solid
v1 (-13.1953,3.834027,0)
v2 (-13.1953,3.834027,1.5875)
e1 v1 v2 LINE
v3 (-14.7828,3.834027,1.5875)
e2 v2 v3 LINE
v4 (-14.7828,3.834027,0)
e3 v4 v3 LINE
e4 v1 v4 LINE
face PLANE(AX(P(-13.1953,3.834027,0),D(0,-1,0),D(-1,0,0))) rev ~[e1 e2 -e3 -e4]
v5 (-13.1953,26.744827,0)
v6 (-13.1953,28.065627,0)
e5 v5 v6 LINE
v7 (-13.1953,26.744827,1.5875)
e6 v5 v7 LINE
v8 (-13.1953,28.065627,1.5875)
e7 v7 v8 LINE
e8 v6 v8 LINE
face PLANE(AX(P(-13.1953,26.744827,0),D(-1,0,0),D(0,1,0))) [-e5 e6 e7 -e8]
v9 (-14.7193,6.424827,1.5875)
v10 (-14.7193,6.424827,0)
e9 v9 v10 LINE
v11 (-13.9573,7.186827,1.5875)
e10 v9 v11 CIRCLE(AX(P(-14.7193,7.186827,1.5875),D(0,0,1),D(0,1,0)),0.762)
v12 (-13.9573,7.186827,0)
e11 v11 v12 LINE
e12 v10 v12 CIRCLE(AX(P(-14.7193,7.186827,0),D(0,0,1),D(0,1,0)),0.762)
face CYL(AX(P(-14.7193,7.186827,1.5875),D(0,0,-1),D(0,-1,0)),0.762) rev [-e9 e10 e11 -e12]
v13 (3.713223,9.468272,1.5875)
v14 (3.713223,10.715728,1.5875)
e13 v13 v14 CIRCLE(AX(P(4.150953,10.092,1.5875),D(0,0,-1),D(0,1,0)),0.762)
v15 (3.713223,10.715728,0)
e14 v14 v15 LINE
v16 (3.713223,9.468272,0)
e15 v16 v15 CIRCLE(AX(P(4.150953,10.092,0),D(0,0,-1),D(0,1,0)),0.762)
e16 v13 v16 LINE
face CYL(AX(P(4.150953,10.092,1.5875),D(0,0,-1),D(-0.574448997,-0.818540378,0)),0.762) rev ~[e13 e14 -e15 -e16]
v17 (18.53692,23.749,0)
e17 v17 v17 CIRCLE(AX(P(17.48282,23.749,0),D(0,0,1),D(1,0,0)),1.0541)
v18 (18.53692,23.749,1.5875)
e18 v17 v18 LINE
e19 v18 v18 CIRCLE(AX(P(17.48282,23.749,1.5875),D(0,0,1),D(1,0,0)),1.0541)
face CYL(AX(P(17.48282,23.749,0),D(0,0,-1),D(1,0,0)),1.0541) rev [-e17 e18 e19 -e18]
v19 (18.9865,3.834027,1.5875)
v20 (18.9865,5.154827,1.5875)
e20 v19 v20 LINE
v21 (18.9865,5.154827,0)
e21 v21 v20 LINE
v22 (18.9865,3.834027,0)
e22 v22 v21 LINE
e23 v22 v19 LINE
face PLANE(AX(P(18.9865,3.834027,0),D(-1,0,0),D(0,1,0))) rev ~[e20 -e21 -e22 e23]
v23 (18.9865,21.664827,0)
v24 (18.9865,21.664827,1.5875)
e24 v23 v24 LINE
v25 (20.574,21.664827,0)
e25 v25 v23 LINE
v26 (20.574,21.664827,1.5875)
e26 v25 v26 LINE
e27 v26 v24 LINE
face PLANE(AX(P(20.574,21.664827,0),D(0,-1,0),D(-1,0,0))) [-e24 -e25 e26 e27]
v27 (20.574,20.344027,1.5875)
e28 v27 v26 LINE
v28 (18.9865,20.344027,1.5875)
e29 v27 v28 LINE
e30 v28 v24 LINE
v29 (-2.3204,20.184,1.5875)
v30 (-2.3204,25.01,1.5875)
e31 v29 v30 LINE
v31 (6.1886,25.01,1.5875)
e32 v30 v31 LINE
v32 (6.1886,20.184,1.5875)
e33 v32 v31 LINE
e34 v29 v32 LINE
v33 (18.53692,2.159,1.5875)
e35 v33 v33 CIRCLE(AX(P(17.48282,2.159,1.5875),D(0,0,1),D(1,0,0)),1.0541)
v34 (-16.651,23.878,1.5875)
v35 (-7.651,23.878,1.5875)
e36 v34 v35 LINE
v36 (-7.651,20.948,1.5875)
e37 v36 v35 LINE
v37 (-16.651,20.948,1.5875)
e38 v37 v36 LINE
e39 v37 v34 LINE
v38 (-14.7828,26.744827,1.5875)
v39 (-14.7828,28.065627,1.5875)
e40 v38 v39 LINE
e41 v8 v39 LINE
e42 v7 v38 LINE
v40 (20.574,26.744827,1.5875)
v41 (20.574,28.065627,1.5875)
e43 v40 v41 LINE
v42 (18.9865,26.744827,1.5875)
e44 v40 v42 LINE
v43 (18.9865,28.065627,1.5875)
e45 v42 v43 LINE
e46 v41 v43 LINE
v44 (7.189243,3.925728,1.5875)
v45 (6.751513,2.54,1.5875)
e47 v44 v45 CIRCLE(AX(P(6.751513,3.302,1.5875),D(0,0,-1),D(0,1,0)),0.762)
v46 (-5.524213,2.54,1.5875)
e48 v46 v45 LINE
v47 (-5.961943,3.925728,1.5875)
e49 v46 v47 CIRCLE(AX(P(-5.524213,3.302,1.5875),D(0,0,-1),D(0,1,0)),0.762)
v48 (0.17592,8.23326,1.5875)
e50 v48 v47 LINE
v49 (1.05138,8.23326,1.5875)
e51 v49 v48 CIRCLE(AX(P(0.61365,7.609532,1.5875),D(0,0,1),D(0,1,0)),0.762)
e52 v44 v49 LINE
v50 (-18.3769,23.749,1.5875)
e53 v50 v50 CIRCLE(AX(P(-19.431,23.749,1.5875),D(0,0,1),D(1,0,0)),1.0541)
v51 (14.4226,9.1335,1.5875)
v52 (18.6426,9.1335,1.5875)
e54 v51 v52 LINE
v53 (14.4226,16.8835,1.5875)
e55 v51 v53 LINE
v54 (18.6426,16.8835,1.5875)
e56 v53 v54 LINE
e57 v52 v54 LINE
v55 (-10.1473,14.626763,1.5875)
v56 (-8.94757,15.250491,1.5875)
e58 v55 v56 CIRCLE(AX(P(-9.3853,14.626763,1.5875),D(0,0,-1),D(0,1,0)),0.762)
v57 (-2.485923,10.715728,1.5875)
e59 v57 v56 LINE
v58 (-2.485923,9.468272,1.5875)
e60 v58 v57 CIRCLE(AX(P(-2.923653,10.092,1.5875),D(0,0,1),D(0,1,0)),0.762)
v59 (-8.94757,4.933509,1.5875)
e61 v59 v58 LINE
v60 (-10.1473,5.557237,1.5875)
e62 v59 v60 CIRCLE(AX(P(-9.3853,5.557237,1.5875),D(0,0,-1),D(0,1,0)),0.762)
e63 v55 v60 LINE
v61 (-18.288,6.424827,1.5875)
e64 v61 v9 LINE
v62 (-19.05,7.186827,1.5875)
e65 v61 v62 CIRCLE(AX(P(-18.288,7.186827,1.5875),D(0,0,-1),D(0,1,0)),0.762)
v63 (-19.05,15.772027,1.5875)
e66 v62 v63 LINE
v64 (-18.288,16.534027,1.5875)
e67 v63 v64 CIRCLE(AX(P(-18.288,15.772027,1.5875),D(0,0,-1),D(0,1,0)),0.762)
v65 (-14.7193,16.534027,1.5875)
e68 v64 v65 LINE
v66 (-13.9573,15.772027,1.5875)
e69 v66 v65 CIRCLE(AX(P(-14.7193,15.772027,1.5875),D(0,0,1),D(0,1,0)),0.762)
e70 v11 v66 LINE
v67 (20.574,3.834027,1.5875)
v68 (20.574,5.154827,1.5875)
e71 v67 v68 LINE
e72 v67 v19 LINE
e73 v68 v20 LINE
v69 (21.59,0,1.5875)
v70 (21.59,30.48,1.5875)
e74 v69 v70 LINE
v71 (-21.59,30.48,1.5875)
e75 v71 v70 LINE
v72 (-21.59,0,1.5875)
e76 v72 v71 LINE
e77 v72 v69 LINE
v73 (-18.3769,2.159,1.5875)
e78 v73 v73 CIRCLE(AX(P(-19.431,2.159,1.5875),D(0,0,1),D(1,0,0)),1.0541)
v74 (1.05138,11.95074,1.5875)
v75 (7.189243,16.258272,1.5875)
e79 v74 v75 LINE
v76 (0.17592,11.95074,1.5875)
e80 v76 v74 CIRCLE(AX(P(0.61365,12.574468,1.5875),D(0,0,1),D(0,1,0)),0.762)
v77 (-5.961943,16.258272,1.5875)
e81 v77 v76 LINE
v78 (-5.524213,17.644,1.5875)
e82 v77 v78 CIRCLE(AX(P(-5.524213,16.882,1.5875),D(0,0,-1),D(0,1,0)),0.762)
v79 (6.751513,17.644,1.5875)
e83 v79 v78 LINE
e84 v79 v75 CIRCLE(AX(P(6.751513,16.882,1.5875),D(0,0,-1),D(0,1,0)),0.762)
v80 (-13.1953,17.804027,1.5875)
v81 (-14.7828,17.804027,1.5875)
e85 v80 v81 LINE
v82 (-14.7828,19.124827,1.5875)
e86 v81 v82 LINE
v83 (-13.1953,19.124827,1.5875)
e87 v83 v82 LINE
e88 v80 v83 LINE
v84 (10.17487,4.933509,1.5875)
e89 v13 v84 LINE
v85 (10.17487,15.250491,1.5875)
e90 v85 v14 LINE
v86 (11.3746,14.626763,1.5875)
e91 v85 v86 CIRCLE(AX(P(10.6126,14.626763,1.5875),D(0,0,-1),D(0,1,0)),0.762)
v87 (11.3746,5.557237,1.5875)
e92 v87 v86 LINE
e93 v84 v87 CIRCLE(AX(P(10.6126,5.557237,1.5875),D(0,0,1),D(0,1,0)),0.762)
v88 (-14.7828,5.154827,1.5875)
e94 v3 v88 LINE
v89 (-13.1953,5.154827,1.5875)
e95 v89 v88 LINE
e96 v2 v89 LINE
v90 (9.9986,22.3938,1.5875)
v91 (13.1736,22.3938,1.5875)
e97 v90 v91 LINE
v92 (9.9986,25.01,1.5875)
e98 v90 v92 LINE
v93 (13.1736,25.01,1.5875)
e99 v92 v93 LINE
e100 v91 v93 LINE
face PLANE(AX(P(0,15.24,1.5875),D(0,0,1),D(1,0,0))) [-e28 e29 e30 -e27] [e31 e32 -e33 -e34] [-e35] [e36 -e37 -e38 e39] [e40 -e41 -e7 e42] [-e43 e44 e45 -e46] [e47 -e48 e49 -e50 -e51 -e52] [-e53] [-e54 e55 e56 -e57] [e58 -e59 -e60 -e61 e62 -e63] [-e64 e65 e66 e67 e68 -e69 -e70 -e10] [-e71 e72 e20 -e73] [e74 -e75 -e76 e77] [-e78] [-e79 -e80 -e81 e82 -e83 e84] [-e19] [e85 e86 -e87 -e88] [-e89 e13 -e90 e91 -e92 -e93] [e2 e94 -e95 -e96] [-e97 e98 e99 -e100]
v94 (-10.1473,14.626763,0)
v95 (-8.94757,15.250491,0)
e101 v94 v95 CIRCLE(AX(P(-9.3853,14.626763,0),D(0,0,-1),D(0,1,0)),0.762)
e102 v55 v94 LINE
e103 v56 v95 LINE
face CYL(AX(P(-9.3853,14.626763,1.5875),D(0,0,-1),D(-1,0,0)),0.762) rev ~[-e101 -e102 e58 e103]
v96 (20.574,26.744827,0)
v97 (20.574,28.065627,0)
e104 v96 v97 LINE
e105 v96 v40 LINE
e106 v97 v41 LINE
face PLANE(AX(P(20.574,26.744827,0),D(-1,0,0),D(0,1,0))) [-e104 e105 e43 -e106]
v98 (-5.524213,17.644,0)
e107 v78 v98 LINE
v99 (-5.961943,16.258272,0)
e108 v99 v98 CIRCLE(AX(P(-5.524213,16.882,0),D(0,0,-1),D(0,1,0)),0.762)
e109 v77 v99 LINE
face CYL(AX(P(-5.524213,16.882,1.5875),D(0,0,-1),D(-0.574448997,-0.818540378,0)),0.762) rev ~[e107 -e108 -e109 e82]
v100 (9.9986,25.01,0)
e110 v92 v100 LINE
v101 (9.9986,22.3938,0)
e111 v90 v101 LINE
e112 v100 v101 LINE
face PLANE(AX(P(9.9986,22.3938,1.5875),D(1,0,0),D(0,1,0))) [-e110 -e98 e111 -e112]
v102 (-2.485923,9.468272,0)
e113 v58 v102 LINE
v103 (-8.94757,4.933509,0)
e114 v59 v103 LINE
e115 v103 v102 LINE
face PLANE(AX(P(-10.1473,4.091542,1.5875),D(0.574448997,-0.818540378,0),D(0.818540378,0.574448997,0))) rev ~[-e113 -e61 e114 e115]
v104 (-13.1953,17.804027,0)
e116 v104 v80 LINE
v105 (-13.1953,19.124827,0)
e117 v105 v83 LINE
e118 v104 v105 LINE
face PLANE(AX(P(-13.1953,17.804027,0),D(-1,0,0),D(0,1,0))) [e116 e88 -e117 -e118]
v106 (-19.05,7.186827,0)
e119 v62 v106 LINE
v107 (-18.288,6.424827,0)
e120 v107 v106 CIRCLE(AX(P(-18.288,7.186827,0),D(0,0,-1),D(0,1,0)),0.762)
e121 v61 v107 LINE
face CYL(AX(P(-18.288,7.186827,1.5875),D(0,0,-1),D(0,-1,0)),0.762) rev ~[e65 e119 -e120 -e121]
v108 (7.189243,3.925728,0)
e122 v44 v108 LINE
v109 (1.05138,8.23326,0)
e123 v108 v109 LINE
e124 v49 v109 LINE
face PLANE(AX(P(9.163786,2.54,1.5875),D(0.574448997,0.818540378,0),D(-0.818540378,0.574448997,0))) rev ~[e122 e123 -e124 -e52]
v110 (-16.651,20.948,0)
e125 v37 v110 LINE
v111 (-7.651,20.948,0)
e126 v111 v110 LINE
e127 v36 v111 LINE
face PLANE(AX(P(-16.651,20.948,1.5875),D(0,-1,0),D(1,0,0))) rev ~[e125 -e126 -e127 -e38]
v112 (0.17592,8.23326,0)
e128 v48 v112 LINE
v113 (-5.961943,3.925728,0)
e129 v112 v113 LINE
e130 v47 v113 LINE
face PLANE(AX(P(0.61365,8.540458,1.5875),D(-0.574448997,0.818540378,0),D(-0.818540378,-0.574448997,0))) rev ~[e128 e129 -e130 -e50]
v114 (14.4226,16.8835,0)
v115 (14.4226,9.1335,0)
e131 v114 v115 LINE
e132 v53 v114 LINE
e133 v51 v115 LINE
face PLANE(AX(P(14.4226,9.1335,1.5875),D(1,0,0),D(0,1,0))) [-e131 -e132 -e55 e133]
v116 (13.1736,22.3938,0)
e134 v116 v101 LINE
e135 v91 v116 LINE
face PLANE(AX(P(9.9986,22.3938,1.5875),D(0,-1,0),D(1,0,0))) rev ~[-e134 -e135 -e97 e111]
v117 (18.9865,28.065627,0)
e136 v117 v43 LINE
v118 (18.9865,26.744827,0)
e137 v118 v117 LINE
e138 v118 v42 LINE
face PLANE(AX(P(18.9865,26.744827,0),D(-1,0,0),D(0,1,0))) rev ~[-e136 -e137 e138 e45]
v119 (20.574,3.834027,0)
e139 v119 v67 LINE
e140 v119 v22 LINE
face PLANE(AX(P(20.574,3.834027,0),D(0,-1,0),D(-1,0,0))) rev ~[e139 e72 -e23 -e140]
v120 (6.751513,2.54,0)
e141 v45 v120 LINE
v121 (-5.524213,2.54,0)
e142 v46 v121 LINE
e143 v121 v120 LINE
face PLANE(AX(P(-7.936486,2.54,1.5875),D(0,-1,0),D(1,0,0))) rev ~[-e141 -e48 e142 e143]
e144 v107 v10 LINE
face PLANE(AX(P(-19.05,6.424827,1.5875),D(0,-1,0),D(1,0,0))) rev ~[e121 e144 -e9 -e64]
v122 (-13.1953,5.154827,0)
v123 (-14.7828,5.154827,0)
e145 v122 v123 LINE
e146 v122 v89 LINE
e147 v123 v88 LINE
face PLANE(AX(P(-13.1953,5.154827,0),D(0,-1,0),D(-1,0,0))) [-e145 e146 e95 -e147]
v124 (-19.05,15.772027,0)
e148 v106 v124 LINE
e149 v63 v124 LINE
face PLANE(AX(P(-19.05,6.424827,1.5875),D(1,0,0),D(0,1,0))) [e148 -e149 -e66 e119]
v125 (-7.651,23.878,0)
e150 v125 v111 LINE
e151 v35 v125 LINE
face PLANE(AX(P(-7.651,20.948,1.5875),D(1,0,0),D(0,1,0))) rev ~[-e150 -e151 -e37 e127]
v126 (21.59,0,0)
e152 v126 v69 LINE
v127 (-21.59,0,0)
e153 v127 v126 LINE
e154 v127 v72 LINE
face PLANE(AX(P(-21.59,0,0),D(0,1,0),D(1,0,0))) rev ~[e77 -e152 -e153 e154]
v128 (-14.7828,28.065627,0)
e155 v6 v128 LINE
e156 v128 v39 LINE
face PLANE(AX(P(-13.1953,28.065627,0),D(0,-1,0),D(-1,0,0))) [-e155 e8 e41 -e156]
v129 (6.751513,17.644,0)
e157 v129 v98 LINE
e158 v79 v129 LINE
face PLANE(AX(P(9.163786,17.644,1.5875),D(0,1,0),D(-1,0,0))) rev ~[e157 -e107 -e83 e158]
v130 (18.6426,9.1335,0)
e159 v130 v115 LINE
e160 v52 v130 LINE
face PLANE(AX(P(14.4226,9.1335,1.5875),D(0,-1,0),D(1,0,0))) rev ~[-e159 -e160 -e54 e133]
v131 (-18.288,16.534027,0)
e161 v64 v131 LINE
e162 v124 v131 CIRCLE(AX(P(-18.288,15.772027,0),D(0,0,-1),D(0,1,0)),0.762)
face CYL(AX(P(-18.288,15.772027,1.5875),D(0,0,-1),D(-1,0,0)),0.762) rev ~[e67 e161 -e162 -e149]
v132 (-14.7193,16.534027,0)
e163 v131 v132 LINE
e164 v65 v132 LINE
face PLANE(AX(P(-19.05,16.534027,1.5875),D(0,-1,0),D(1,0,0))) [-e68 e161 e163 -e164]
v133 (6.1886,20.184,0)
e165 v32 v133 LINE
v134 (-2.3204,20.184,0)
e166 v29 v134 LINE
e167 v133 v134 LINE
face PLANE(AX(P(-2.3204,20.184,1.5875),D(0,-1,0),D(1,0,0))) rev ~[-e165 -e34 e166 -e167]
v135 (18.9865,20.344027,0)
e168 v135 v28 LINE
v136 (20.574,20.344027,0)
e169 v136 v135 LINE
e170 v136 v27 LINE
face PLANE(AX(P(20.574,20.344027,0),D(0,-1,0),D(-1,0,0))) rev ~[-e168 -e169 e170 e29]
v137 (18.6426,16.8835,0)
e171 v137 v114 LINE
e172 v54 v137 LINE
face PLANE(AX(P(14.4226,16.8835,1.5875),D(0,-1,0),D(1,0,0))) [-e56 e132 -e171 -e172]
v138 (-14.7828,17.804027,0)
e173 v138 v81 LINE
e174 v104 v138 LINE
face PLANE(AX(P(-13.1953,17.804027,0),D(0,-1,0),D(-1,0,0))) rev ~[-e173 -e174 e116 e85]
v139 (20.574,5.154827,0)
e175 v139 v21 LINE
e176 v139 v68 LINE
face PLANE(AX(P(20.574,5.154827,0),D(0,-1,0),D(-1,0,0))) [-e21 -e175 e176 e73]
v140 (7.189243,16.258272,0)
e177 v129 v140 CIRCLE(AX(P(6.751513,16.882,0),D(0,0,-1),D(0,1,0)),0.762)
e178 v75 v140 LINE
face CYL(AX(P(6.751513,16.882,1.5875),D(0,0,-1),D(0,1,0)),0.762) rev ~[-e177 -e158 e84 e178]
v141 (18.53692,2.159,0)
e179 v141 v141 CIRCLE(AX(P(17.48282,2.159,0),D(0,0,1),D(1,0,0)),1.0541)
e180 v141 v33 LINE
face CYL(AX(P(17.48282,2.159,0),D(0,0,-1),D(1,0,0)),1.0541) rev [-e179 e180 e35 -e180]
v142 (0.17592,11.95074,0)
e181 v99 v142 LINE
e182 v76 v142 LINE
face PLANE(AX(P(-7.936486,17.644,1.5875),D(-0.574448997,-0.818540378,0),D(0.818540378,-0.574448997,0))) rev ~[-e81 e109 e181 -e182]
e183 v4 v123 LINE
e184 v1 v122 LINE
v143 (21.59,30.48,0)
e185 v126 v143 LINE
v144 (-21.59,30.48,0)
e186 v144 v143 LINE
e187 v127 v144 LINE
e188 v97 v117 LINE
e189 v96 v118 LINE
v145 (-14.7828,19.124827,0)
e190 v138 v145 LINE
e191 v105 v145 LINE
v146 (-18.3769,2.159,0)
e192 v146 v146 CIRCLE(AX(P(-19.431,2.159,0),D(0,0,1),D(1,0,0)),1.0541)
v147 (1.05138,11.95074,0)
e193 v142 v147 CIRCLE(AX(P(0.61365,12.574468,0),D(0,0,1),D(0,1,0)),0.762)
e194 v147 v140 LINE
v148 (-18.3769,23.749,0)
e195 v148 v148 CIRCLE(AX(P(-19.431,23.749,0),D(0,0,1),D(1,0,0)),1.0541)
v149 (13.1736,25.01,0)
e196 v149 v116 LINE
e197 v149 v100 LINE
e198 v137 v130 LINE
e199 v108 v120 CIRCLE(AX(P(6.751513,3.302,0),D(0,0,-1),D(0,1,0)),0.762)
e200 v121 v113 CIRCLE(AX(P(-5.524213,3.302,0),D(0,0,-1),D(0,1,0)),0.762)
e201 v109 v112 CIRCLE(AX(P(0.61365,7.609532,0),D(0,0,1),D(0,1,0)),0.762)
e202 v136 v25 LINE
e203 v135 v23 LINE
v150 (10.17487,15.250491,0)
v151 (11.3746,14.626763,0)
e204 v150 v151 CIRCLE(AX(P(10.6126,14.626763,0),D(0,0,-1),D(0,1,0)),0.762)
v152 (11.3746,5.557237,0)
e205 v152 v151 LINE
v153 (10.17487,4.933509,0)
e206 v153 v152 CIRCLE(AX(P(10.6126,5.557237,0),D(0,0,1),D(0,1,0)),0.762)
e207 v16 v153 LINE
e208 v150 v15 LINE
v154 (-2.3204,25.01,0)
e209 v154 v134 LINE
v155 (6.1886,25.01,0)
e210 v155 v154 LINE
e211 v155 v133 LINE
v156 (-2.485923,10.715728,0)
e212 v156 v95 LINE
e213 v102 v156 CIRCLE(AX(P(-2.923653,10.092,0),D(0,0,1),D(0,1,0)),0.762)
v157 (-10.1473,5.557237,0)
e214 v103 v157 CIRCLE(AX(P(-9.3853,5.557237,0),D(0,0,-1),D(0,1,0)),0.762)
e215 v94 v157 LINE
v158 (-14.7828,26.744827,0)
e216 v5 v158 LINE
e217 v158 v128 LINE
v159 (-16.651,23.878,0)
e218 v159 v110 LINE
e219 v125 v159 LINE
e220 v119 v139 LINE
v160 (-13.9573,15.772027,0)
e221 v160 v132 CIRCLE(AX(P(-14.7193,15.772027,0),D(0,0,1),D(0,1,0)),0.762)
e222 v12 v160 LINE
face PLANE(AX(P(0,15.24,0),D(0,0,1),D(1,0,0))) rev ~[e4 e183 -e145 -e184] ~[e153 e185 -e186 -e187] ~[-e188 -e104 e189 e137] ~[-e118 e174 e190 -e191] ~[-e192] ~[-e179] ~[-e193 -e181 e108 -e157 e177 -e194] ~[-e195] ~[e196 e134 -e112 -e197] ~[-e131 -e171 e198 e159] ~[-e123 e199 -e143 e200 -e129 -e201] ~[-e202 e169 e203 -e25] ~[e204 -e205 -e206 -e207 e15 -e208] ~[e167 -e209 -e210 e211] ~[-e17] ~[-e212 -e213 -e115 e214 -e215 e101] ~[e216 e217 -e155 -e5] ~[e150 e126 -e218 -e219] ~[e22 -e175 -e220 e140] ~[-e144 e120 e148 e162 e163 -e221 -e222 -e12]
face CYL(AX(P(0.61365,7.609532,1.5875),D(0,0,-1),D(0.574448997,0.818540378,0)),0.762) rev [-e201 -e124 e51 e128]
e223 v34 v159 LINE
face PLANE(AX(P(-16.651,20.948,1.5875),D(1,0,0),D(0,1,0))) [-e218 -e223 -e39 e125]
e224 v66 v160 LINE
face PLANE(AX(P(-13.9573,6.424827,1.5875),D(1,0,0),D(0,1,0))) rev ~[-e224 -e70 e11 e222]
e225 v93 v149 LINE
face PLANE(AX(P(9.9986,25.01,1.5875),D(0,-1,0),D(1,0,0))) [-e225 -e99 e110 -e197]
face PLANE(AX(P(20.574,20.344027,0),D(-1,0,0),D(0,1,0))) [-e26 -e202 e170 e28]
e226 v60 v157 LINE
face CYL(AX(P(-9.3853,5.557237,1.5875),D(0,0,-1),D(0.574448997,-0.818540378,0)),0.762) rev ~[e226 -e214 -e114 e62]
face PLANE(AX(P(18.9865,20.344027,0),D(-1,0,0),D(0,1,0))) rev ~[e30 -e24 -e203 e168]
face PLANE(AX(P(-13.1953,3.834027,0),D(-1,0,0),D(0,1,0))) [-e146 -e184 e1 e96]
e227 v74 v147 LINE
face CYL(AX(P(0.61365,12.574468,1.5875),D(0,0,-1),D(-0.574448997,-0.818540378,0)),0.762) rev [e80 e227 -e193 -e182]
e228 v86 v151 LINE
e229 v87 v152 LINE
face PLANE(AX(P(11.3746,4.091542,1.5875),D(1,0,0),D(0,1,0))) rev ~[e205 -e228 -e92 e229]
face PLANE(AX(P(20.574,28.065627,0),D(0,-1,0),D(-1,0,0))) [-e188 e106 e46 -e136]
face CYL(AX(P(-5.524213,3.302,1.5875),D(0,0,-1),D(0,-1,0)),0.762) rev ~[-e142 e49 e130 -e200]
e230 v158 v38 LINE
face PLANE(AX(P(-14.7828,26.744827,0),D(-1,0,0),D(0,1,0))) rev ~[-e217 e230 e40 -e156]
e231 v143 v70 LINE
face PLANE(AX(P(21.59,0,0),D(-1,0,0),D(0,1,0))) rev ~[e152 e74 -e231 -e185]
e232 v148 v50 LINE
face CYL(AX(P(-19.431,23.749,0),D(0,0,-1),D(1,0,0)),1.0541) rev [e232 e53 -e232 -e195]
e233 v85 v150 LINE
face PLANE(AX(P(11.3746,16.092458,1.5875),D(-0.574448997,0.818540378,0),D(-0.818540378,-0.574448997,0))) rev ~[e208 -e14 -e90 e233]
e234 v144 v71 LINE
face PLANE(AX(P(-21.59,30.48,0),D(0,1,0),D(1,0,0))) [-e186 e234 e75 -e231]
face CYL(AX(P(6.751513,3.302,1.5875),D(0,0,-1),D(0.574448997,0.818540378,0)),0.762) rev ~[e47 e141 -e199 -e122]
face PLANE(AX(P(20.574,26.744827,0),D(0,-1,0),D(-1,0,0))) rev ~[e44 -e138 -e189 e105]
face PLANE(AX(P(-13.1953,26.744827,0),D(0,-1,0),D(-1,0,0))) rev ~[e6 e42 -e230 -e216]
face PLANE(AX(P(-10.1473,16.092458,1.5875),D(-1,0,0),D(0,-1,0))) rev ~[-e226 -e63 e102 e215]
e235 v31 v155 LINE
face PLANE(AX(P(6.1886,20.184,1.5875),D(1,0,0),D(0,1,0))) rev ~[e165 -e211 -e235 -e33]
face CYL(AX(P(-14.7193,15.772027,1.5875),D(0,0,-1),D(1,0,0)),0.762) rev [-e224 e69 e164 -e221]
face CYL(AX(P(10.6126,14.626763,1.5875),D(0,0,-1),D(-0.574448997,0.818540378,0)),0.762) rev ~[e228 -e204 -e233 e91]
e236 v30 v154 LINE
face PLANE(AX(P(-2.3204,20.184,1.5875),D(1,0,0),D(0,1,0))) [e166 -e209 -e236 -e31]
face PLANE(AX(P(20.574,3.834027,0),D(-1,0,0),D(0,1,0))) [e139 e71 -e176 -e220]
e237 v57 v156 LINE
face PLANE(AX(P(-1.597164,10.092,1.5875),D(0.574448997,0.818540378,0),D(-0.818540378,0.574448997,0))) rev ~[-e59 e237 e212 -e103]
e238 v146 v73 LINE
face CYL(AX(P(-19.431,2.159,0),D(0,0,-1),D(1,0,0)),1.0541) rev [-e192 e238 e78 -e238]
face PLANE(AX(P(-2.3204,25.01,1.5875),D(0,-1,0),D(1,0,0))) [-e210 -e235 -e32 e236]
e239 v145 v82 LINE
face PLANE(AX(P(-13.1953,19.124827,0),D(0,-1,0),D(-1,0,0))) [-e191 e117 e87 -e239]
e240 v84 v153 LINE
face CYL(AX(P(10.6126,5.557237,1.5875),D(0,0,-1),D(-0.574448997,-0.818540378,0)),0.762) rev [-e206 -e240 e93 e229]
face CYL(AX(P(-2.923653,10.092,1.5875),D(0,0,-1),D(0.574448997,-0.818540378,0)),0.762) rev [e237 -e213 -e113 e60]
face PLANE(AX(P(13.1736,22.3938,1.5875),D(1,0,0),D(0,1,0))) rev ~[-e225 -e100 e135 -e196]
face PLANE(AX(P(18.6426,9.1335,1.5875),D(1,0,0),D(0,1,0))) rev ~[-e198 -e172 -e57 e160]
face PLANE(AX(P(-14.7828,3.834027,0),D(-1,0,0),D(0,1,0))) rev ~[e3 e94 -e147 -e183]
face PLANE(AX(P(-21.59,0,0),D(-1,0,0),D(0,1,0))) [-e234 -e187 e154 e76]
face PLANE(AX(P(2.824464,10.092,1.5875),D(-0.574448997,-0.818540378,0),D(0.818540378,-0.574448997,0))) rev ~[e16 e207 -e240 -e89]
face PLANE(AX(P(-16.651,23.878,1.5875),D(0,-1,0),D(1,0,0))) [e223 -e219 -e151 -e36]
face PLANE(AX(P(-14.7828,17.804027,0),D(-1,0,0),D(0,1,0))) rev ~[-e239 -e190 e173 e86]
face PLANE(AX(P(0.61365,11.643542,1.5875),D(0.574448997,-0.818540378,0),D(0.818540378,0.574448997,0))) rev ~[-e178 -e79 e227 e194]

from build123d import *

# Parameters (mm, degrees)
SKETCH1_W                   = 43.18
SKETCH1_H                   = 30.48
SKETCH1_R                   = 1.0541
BOSS_EXTRUDE1_DEPTH         = 1.5875
CAMERA_CUTS_REACH           = 39.386
SKETCH5_W                   = 9
SKETCH5_H                   = 2.93
SKETCH5_W_2                 = 8.509
SKETCH5_H_2                 = 4.826
SKETCH5_W_3                 = 3.175
SKETCH5_H_3                 = 2.6162
SKETCH5_W_4                 = 4.22
SKETCH5_H_4                 = 7.75
SKETCH6_W                   = 5.0927
SKETCH6_H                   = 10.1092
WEIGHT_REDUCTION_CUTS_DEPTH = 2.54
ATTACHMENT_CUTS_REACH       = 39.386
SKETCH7_W                   = 1.5875
SKETCH7_H                   = 1.3208
FILLET8_R                   = 0.762


with BuildPart() as part:
    # Sketch1 → Boss-Extrude1 (new body)
    with BuildSketch(Plane.XY):
        with Locations((0, 15.24)):
            Rectangle(SKETCH1_W, SKETCH1_H)
        with Locations((17.48282, 2.159)):
            Circle(SKETCH1_R, mode=Mode.SUBTRACT)
        with Locations((17.48282, 23.749)):
            Circle(SKETCH1_R, mode=Mode.SUBTRACT)
        with Locations((-19.431, 2.159)):
            Circle(SKETCH1_R, mode=Mode.SUBTRACT)
        with Locations((-19.431, 23.749)):
            Circle(SKETCH1_R, mode=Mode.SUBTRACT)
    extrude(amount=BOSS_EXTRUDE1_DEPTH)

    # Sketch5 → Camera Cuts (cut, up to next)
    with BuildSketch(Plane.XY.offset(1.5875), mode=Mode.PRIVATE) as camera_cuts_sk1:
        with Locations((-12.151, 22.413)):
            Rectangle(SKETCH5_W, SKETCH5_H)
    camera_cuts_tool1 = extrude(camera_cuts_sk1.sketch, amount=-CAMERA_CUTS_REACH, mode=Mode.PRIVATE) & part.part
    # Sketch5 → Camera Cuts (cut, up to next)
    with BuildSketch(Plane.XY.offset(1.5875), mode=Mode.PRIVATE) as camera_cuts_sk2:
        with Locations((1.9341, 22.597)):
            Rectangle(SKETCH5_W_2, SKETCH5_H_2)
    camera_cuts_tool2 = extrude(camera_cuts_sk2.sketch, amount=-CAMERA_CUTS_REACH, mode=Mode.PRIVATE) & part.part
    # Sketch5 → Camera Cuts (cut, up to next)
    with BuildSketch(Plane.XY.offset(1.5875), mode=Mode.PRIVATE) as camera_cuts_sk3:
        with Locations((11.5861, 23.7019)):
            Rectangle(SKETCH5_W_3, SKETCH5_H_3)
    camera_cuts_tool3 = extrude(camera_cuts_sk3.sketch, amount=-CAMERA_CUTS_REACH, mode=Mode.PRIVATE) & part.part
    # Sketch5 → Camera Cuts (cut, up to next)
    with BuildSketch(Plane.XY.offset(1.5875), mode=Mode.PRIVATE) as camera_cuts_sk4:
        with Locations((16.5326, 13.0085)):
            Rectangle(SKETCH5_W_4, SKETCH5_H_4)
    camera_cuts_tool4 = extrude(camera_cuts_sk4.sketch, amount=-CAMERA_CUTS_REACH, mode=Mode.PRIVATE) & part.part
    add(camera_cuts_tool1.solids().sort_by_distance((-12.151, 22.413, 1.5875))[0], mode=Mode.SUBTRACT)
    add(camera_cuts_tool2.solids().sort_by_distance((1.9341, 22.597, 1.5875))[0], mode=Mode.SUBTRACT)
    add(camera_cuts_tool3.solids().sort_by_distance((11.5861, 23.7019, 1.5875))[0], mode=Mode.SUBTRACT)
    add(camera_cuts_tool4.solids().sort_by_distance((16.5326, 13.0085, 1.5875))[0], mode=Mode.SUBTRACT)

    # Sketch6 → Weight Reduction Cuts (cut)
    with BuildSketch(Plane.XY.offset(1.5875)):
        Polygon((9.163785799, 2.54), (0.61365, 8.540457725), (-7.936485799, 2.54), align=None)
        Polygon((2.824464201, 10.092), (11.3746, 4.091542275), (11.3746, 16.092457725), align=None)
        Polygon((-7.936485799, 17.644), (0.61365, 11.643542275), (9.163785799, 17.644), align=None)
        Polygon((-10.1473, 4.091542275), (-1.597164201, 10.092), (-10.1473, 16.092457725), align=None)
        with Locations((-16.50365, 11.479427373)):
            Rectangle(SKETCH6_W, SKETCH6_H)
    extrude(amount=-WEIGHT_REDUCTION_CUTS_DEPTH, mode=Mode.SUBTRACT)

    # Sketch7 → Attachment Cuts (cut, up to next)
    with BuildSketch(Plane(origin=(0, 0, 0), x_dir=(-1, 0, 0), z_dir=(0, 0, -1)), mode=Mode.PRIVATE) as attachment_cuts_sk1:
        with Locations((13.98905, 27.405227373)):
            Rectangle(SKETCH7_W, SKETCH7_H)
    attachment_cuts_tool1 = extrude(attachment_cuts_sk1.sketch, amount=-ATTACHMENT_CUTS_REACH, mode=Mode.PRIVATE) & part.part
    # Sketch7 → Attachment Cuts (cut, up to next)
    with BuildSketch(Plane(origin=(0, 0, 0), x_dir=(-1, 0, 0), z_dir=(0, 0, -1)), mode=Mode.PRIVATE) as attachment_cuts_sk2:
        with Locations((13.98905, 18.464427373)):
            Rectangle(SKETCH7_W, SKETCH7_H)
    attachment_cuts_tool2 = extrude(attachment_cuts_sk2.sketch, amount=-ATTACHMENT_CUTS_REACH, mode=Mode.PRIVATE) & part.part
    # Sketch7 → Attachment Cuts (cut, up to next)
    with BuildSketch(Plane(origin=(0, 0, 0), x_dir=(-1, 0, 0), z_dir=(0, 0, -1)), mode=Mode.PRIVATE) as attachment_cuts_sk3:
        with Locations((13.98905, 4.494427373)):
            Rectangle(SKETCH7_W, SKETCH7_H)
    attachment_cuts_tool3 = extrude(attachment_cuts_sk3.sketch, amount=-ATTACHMENT_CUTS_REACH, mode=Mode.PRIVATE) & part.part
    # Sketch7 → Attachment Cuts (cut, up to next)
    with BuildSketch(Plane(origin=(0, 0, 0), x_dir=(-1, 0, 0), z_dir=(0, 0, -1)), mode=Mode.PRIVATE) as attachment_cuts_sk4:
        with Locations((-19.78025, 4.494427373)):
            Rectangle(SKETCH7_W, SKETCH7_H)
    attachment_cuts_tool4 = extrude(attachment_cuts_sk4.sketch, amount=-ATTACHMENT_CUTS_REACH, mode=Mode.PRIVATE) & part.part
    # Sketch7 → Attachment Cuts (cut, up to next)
    with BuildSketch(Plane(origin=(0, 0, 0), x_dir=(-1, 0, 0), z_dir=(0, 0, -1)), mode=Mode.PRIVATE) as attachment_cuts_sk5:
        with Locations((-19.78025, 21.004427373)):
            Rectangle(SKETCH7_W, SKETCH7_H)
    attachment_cuts_tool5 = extrude(attachment_cuts_sk5.sketch, amount=-ATTACHMENT_CUTS_REACH, mode=Mode.PRIVATE) & part.part
    # Sketch7 → Attachment Cuts (cut, up to next)
    with BuildSketch(Plane(origin=(0, 0, 0), x_dir=(-1, 0, 0), z_dir=(0, 0, -1)), mode=Mode.PRIVATE) as attachment_cuts_sk6:
        with Locations((-19.78025, 27.405227373)):
            Rectangle(SKETCH7_W, SKETCH7_H)
    attachment_cuts_tool6 = extrude(attachment_cuts_sk6.sketch, amount=-ATTACHMENT_CUTS_REACH, mode=Mode.PRIVATE) & part.part
    add(attachment_cuts_tool1.solids().sort_by_distance((-13.98905, 27.405227, 0))[0], mode=Mode.SUBTRACT)
    add(attachment_cuts_tool2.solids().sort_by_distance((-13.98905, 18.464427, 0))[0], mode=Mode.SUBTRACT)
    add(attachment_cuts_tool3.solids().sort_by_distance((-13.98905, 4.494427, 0))[0], mode=Mode.SUBTRACT)
    add(attachment_cuts_tool4.solids().sort_by_distance((19.78025, 4.494427, 0))[0], mode=Mode.SUBTRACT)
    add(attachment_cuts_tool5.solids().sort_by_distance((19.78025, 21.004427, 0))[0], mode=Mode.SUBTRACT)
    add(attachment_cuts_tool6.solids().sort_by_distance((19.78025, 27.405227, 0))[0], mode=Mode.SUBTRACT)

    # Fillet8
    fillet8_edges = [part.edges().sort_by_distance(p)[0] for p in [
        (9.163785799, 17.644, 0.79375),
        (0.61365, 11.643542275, 0.79375),
        (-7.936485799, 17.644, 0.79375),
        (-1.597164201, 10.092, 0.79375),
        (-10.1473, 4.091542275, 0.79375),
        (-10.1473, 16.092457725, 0.79375),
        (-13.9573, 6.424827373, 0.79375),
        (-19.05, 6.424827373, 0.79375),
        (-19.05, 16.534027373, 0.79375),
        (-13.9573, 16.534027373, 0.79375),
        (0.61365, 8.540457725, 0.79375),
        (9.163785799, 2.54, 0.79375),
        (-7.936485799, 2.54, 0.79375),
        (11.3746, 16.092457725, 0.79375),
        (11.3746, 4.091542275, 0.79375),
        (2.824464201, 10.092, 0.79375),
    ]]
    fillet(fillet8_edges, radius=FILLET8_R)


solid = part.part
